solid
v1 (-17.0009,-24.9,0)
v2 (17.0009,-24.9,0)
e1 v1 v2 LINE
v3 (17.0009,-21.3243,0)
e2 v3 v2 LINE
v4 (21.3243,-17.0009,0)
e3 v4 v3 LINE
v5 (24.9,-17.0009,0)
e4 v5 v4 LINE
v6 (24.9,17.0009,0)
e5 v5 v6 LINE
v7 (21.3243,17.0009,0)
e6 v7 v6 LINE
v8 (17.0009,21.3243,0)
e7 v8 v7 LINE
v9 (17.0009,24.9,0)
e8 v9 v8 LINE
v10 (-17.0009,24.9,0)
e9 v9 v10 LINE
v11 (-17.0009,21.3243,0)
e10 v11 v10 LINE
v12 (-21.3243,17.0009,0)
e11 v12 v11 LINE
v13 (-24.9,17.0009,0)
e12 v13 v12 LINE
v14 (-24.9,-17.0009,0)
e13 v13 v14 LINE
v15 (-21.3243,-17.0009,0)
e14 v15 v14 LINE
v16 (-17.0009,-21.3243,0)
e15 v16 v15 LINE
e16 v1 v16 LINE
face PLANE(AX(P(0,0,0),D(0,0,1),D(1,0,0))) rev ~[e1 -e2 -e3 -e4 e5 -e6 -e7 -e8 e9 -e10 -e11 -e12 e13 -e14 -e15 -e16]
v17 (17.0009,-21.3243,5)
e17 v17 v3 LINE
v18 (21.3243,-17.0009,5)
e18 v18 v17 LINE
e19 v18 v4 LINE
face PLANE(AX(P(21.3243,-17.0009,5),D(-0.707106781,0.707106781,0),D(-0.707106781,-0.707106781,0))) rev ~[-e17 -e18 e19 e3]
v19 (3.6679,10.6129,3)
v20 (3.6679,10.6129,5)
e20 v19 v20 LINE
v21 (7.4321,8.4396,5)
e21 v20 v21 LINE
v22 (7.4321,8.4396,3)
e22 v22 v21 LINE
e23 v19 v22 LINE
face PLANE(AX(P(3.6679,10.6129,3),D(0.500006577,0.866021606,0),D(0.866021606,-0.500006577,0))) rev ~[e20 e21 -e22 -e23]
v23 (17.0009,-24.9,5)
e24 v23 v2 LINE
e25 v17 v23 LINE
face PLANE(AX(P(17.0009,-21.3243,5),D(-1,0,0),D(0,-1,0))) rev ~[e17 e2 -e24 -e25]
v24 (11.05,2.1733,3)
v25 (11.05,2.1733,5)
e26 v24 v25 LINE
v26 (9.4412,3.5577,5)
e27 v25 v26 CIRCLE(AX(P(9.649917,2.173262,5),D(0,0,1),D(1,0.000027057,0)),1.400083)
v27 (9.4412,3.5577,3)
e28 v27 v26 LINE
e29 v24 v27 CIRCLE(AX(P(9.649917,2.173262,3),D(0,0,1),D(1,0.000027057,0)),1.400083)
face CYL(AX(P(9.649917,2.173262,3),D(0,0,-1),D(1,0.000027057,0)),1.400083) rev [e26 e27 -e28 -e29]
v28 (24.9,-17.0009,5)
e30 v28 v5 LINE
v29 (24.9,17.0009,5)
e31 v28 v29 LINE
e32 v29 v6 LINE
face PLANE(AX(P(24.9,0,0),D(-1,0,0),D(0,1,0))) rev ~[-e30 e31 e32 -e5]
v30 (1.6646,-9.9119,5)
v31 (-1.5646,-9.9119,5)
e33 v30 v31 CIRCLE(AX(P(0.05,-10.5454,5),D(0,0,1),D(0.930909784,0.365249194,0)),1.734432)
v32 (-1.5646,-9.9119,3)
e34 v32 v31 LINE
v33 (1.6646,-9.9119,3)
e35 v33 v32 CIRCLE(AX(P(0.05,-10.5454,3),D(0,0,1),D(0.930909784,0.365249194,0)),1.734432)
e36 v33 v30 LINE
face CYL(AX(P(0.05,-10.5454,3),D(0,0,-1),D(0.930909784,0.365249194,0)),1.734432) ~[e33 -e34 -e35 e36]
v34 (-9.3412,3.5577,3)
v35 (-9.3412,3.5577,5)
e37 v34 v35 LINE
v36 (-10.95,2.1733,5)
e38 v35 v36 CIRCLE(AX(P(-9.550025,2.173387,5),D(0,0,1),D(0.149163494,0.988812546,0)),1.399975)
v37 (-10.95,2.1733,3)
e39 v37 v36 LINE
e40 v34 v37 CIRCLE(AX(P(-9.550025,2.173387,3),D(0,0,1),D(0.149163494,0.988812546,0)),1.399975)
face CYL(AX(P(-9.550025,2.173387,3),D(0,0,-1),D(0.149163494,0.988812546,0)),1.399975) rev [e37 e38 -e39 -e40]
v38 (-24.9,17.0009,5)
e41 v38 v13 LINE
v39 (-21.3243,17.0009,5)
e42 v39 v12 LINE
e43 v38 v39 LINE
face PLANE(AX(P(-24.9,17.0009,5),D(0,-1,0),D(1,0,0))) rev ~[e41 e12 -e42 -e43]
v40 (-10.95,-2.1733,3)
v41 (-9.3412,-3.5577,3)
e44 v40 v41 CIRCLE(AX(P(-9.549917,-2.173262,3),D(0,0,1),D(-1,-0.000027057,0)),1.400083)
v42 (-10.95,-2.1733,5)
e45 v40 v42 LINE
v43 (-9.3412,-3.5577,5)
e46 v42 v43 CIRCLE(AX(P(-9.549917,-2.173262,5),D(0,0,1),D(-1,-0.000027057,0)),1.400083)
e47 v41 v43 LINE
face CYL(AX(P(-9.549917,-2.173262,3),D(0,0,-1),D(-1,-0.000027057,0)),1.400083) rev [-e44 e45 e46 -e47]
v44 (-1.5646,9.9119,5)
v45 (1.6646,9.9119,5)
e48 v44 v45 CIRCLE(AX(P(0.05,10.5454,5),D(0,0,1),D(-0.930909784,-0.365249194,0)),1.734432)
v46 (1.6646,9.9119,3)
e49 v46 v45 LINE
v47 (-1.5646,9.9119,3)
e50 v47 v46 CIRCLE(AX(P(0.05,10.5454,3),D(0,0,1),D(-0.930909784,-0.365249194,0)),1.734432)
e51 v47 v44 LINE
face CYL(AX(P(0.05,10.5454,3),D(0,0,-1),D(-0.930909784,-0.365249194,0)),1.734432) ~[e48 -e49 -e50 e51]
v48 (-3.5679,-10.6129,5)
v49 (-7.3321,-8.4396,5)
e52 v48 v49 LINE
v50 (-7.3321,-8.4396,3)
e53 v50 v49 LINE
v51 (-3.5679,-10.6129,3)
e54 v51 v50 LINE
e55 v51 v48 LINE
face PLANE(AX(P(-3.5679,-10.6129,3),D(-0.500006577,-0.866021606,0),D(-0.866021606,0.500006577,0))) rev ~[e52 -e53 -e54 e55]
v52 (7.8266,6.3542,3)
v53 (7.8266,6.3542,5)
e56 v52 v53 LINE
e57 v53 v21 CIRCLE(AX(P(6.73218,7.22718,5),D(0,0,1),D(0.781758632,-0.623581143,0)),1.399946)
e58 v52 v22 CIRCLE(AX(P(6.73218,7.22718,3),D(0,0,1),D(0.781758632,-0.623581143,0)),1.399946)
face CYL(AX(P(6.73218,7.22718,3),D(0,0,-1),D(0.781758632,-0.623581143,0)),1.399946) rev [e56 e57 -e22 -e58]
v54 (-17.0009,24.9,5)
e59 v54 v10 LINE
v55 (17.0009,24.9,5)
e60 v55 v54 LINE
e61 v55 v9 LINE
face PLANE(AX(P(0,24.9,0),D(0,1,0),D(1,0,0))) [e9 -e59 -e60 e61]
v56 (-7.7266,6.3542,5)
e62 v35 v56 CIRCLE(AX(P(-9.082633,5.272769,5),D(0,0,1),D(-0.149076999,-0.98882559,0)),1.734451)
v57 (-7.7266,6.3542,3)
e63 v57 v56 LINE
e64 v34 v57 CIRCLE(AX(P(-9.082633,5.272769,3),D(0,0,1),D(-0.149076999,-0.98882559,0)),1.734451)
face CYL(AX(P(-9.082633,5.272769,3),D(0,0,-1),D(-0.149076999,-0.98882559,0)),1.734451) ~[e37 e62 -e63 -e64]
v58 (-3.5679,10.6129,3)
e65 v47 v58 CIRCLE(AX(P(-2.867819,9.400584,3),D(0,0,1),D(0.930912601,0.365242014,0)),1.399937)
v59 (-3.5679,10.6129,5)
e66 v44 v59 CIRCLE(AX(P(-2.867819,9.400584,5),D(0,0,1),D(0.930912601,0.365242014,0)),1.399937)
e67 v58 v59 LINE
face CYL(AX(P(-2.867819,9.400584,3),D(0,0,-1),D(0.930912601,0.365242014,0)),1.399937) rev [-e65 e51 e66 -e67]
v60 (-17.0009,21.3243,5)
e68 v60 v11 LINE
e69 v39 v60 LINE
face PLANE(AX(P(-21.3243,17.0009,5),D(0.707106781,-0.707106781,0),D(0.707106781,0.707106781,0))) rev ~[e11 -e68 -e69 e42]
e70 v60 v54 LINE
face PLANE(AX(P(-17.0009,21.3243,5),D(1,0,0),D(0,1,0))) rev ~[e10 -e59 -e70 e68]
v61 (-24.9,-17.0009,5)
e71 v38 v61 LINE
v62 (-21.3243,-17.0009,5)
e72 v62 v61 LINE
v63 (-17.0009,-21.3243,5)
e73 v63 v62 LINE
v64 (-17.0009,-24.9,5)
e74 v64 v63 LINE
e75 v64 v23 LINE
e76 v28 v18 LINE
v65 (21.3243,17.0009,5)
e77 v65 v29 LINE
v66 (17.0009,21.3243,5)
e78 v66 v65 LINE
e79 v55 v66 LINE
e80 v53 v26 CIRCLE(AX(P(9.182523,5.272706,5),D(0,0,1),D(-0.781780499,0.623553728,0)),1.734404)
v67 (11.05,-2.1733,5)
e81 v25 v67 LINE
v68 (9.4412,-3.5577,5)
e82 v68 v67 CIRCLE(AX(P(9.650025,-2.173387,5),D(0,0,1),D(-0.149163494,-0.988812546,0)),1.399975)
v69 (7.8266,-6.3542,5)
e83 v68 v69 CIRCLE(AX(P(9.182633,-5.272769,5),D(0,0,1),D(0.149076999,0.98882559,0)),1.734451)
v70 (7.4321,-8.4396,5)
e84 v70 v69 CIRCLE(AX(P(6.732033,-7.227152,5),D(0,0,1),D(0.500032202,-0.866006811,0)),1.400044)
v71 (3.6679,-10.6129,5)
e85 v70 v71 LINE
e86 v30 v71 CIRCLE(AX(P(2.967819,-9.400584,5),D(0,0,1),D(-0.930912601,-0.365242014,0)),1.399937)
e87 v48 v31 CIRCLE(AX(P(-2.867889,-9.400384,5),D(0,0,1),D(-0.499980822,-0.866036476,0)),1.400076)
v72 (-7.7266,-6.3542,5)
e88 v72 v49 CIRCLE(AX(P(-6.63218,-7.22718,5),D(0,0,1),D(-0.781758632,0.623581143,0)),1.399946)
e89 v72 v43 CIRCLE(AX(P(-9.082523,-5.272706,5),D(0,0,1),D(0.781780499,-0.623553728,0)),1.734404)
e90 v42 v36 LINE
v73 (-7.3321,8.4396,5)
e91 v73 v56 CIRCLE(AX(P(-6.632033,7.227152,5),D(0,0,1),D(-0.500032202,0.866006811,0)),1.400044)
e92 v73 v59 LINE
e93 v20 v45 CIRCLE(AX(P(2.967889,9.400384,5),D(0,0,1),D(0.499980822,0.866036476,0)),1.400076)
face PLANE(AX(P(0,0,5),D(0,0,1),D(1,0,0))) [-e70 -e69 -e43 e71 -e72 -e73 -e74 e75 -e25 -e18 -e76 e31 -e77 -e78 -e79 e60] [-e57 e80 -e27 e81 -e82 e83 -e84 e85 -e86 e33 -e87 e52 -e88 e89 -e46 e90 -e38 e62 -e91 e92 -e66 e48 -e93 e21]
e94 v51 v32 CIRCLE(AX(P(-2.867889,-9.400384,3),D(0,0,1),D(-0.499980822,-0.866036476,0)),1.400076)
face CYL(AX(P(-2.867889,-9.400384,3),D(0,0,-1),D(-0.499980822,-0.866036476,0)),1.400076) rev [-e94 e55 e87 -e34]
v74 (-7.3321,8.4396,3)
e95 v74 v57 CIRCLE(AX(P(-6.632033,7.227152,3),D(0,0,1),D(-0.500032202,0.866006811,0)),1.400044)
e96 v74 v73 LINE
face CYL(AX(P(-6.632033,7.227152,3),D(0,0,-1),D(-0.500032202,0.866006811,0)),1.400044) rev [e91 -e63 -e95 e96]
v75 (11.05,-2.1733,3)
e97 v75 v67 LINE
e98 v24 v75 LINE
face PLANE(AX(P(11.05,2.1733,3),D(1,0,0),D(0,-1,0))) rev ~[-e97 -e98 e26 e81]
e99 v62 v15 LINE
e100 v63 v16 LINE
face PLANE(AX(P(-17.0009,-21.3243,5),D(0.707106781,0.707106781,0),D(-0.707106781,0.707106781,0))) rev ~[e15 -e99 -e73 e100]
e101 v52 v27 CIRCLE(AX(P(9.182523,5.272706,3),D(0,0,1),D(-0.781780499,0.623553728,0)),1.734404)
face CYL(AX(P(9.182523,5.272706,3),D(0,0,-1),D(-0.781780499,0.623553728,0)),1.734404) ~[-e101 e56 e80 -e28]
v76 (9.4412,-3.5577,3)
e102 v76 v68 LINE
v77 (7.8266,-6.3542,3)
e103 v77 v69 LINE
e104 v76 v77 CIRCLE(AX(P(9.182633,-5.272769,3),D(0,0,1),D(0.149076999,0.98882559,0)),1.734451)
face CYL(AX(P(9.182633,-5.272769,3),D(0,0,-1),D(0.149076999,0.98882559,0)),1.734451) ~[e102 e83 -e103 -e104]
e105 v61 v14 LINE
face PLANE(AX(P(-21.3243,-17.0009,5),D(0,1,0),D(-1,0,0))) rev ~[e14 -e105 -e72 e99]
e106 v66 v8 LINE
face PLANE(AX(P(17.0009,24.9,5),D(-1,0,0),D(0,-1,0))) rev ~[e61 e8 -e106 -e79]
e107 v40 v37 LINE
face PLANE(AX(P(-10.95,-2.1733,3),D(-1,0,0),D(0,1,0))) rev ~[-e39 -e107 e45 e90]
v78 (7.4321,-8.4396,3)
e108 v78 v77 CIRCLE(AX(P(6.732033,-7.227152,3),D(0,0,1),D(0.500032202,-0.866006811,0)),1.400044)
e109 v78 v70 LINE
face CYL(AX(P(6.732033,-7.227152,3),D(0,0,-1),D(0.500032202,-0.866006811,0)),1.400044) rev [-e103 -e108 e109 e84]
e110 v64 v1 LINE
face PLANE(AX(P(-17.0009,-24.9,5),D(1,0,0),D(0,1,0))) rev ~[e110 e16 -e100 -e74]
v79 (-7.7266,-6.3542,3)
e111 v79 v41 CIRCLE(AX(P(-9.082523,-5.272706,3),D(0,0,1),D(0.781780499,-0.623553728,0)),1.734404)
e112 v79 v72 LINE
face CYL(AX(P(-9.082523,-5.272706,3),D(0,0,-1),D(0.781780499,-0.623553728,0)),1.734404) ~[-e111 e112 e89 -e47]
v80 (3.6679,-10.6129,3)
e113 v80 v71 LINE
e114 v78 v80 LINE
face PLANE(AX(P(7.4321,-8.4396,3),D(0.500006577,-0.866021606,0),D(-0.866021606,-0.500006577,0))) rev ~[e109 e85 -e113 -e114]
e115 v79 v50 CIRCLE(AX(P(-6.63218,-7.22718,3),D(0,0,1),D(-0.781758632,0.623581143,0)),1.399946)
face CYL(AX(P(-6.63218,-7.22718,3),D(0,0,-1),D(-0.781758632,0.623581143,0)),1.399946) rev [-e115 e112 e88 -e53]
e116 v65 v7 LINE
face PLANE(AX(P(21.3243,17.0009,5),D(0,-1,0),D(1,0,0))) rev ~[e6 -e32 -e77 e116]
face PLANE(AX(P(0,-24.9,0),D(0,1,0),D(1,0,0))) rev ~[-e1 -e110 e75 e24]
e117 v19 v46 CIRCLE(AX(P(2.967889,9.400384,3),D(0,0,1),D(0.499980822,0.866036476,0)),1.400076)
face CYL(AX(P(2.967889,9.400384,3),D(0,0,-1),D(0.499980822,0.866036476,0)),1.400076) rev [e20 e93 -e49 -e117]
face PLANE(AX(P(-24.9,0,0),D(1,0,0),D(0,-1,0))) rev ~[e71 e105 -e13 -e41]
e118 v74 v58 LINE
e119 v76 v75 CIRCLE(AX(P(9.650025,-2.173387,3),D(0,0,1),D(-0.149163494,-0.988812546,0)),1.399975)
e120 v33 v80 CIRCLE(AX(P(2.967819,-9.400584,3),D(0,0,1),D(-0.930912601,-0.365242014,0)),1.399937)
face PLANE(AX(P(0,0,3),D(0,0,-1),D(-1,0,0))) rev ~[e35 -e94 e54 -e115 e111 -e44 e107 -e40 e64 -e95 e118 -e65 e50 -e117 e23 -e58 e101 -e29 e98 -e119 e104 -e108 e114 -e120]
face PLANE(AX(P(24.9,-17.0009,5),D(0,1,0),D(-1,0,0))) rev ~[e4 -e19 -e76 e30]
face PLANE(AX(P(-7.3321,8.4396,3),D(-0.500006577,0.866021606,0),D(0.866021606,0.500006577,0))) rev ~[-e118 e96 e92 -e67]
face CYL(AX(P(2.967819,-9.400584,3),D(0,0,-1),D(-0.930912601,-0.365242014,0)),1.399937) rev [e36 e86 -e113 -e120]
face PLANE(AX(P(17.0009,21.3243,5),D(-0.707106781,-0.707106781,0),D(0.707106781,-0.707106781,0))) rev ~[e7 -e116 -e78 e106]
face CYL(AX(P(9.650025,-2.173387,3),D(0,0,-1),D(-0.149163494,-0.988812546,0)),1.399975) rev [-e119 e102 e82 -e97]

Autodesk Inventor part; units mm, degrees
ref_plane "YZ Plane" through (0, 0, 0) normal (1, 0, 0) x (0, 1, 0)
ref_plane "XZ Plane" through (0, 0, 0) normal (0, 1, 0) x (-1, 0, 0)
ref_plane "XY Plane" through (0, 0, 0) normal (0, 0, 1) x (1, 0, 0)
sketch "Sketch1" plane through (0, 0, 0) normal (0, 0, 1) x (1, 0, 0)
  line L0 (-34.86, 0) -> (34.86, 0) construction
  line L1 (0, -34.86) -> (0, 34.86) construction
  line L2 (0, 0) -> (11.1575, 11.1575) construction
  line L3 (0, 0) -> (15.7791, 0) construction
  line L4 (0, 24.9) -> (16.8009, 24.9)
  line L5 (16.8009, 24.9) -> (16.8009, 21.2415)
  line L6 (16.8009, 21.2415) -> (19.0212, 19.0212)
  line L7 (24.9, 0) -> (24.9, 16.8009)
  line L8 (24.9, 16.8009) -> (21.2415, 16.8009)
  line L9 (21.2415, 16.8009) -> (19.0212, 19.0212)
  line L10 (0, -24.9) -> (16.8009, -24.9)
  line L11 (16.8009, -24.9) -> (16.8009, -21.2415)
  line L12 (16.8009, -21.2415) -> (19.0212, -19.0212)
  line L13 (24.9, 0) -> (24.9, -16.8009)
  line L14 (24.9, -16.8009) -> (21.2415, -16.8009)
  line L15 (21.2415, -16.8009) -> (19.0212, -19.0212)
  line L16 (0, 24.9) -> (-16.8009, 24.9)
  line L17 (-16.8009, 24.9) -> (-16.8009, 21.2415)
  line L18 (-16.8009, 21.2415) -> (-19.0212, 19.0212)
  line L19 (-24.9, 16.8009) -> (-21.2415, 16.8009)
  line L20 (-21.2415, 16.8009) -> (-19.0212, 19.0212)
  line L21 (0, -24.9) -> (-16.8009, -24.9)
  line L22 (-16.8009, -24.9) -> (-16.8009, -21.2415)
  line L23 (-16.8009, -21.2415) -> (-19.0212, -19.0212)
  line L24 (-21.2415, -16.8009) -> (-19.0212, -19.0212)
  line L25 (-24.9, -16.8009) -> (-21.2415, -16.8009)
  line L26 (-24.9, 0) -> (-24.9, -16.8009)
  line L27 (-24.9, 0) -> (-24.9, 16.8009)
  circle A0 centre (0, 0) radius 12.5
  dimension "d0" = 45
  dimension "d2" = 24.9
  dimension "d3" = 3.14
  dimension "d4" = 26.9
  dimension "d5" = 25
extrude "Extrusion1" add sketch "Sketch1" along normal blind 5
sketch "Sketch3" plane through (0, 0, 0) normal (0, 0, -1) x (-1, 0, 0)
  circle A0 centre (0, 0) radius 12.5 projected
extrude "Extrusion3" add sketch "Sketch3" against normal blind 3
sketch "Sketch4" plane through (0, 0, 3) normal (0, 0, 1) x (1, 0, 0)
  circle A0 centre (0, 0) radius 12.5 projected
  arc A1 (-2.4955, 9.5466) -> (2.5955, 9.5466) centre (0.05, 10.5454) ccw
  arc A2 (-2.4955, 9.5466) -> (-3.0679, 9.7469) centre (-2.8679, 9.4005) ccw
  line L0 (-3.0679, 9.7469) -> (-6.8321, 7.5736)
  arc A3 (-6.8321, 7.5736) -> (-6.9449, 6.9778) centre (-6.6321, 7.2272) ccw
  arc A4 (-9.4904, 2.5688) -> (-6.9449, 6.9778) centre (-9.0826, 5.2727) ccw
  arc A5 (2.5955, -9.5466) -> (-2.4955, -9.5466) centre (0.05, -10.5454) ccw
  arc A6 (2.5955, -9.5466) -> (3.1679, -9.7469) centre (2.9679, -9.4005) ccw
  line L1 (3.1679, -9.7469) -> (6.9321, -7.5736)
  arc A7 (6.9321, -7.5736) -> (7.0449, -6.9778) centre (6.7321, -7.2272) ccw
  arc A8 (9.5904, -2.5688) -> (7.0449, -6.9778) centre (9.1826, -5.2727) ccw
  line L2 (5.3229, -1.93) -> (5.3229, -1.58)
  line L3 (5.3229, -1.58) -> (5.9268, -1.58)
  line L4 (6.2768, -2.56) -> (5.9268, -2.56)
  line L5 (5.9268, -2.56) -> (5.9268, -1.93)
  line L6 (5.9268, -1.93) -> (5.3229, -1.93)
  circle A9 centre (0.05, 0) radius 3.3699
  line L7 (1.2704, -6.4878) -> (4.6724, -4.4373)
  line L8 (4.6724, -4.4373) -> (5.9738, -6.5964)
  line L9 (5.9738, -6.5964) -> (2.5718, -8.647)
  line L10 (2.5718, -8.647) -> (1.2704, -6.4878)
  line L11 (-2.4718, 8.647) -> (-1.1704, 6.4878)
  line L12 (-1.1704, 6.4878) -> (-4.5724, 4.4373)
  line L13 (-4.5724, 4.4373) -> (-5.8738, 6.5964)
  line L14 (-5.8738, 6.5964) -> (-2.4718, 8.647)
  arc A10 (-3.5679, -10.6129) -> (-1.5646, -9.9119) centre (-2.8679, -9.4005) ccw
  line L15 (-3.5679, -10.6129) -> (-7.3321, -8.4396)
  arc A11 (-7.7266, -6.3542) -> (-7.3321, -8.4396) centre (-6.6321, -7.2272) ccw
  arc A12 (-7.7266, -6.3542) -> (-9.3412, -3.5577) centre (-9.0826, -5.2727) ccw
  arc A13 (-10.95, -2.1733) -> (-9.3412, -3.5577) centre (-9.55, -2.1733) ccw
  line L16 (-10.95, -2.1733) -> (-10.95, 2.1733)
  arc A14 (-9.3412, 3.5577) -> (-10.95, 2.1733) centre (-9.55, 2.1733) ccw
  arc A15 (-9.3412, 3.5577) -> (-7.7266, 6.3542) centre (-9.0826, 5.2727) ccw
  arc A16 (-7.3321, 8.4396) -> (-7.7266, 6.3542) centre (-6.6321, 7.2272) ccw
  line L17 (-7.3321, 8.4396) -> (-3.5679, 10.6129)
  arc A17 (-1.5646, 9.9119) -> (-3.5679, 10.6129) centre (-2.8679, 9.4005) ccw
  arc A18 (-1.5646, 9.9119) -> (1.6646, 9.9119) centre (0.05, 10.5454) ccw
  arc A19 (3.6679, 10.6129) -> (1.6646, 9.9119) centre (2.9679, 9.4005) ccw
  line L18 (3.6679, 10.6129) -> (7.4321, 8.4396)
  arc A20 (7.8266, 6.3542) -> (7.4321, 8.4396) centre (6.7321, 7.2272) ccw
  arc A21 (7.8266, 6.3542) -> (9.4412, 3.5577) centre (9.1826, 5.2727) ccw
  arc A22 (11.05, 2.1733) -> (9.4412, 3.5577) centre (9.65, 2.1733) ccw
  line L19 (11.05, 2.1733) -> (11.05, -2.1733)
  arc A23 (9.4412, -3.5577) -> (11.05, -2.1733) centre (9.65, -2.1733) ccw
  arc A24 (9.4412, -3.5577) -> (7.8266, -6.3542) centre (9.1826, -5.2727) ccw
  arc A25 (7.4321, -8.4396) -> (7.8266, -6.3542) centre (6.7321, -7.2272) ccw
  line L20 (7.4321, -8.4396) -> (3.6679, -10.6129)
  arc A26 (1.6646, -9.9119) -> (3.6679, -10.6129) centre (2.9679, -9.4005) ccw
  arc A27 (1.6646, -9.9119) -> (-1.5646, -9.9119) centre (0.05, -10.5454) ccw
  arc A28 (7.0449, 6.9778) -> (6.9321, 7.5736) centre (6.7321, 7.2272) ccw
  line L21 (6.9321, 7.5736) -> (3.1679, 9.7469)
  arc A29 (3.1679, 9.7469) -> (2.5955, 9.5466) centre (2.9679, 9.4005) ccw
  arc A30 (-9.4904, 2.5688) -> (-9.95, 2.1733) centre (-9.55, 2.1733) ccw
  line L22 (-9.95, 2.1733) -> (-9.95, -2.1733)
  arc A31 (-9.95, -2.1733) -> (-9.4904, -2.5688) centre (-9.55, -2.1733) ccw
  arc A32 (-6.9449, -6.9778) -> (-9.4904, -2.5688) centre (-9.0826, -5.2727) ccw
  arc A33 (-6.9449, -6.9778) -> (-6.8321, -7.5736) centre (-6.6321, -7.2272) ccw
  line L23 (-6.8321, -7.5736) -> (-3.0679, -9.7469)
  arc A34 (-3.0679, -9.7469) -> (-2.4955, -9.5466) centre (-2.8679, -9.4005) ccw
  arc A35 (9.5904, -2.5688) -> (10.05, -2.1733) centre (9.65, -2.1733) ccw
  line L24 (10.05, -2.1733) -> (10.05, 2.1733)
  arc A36 (10.05, 2.1733) -> (9.5904, 2.5688) centre (9.65, 2.1733) ccw
  arc A37 (7.0449, 6.9778) -> (9.5904, 2.5688) centre (9.1826, 5.2727) ccw
  line L25 (5.9268, -1.58) -> (5.9268, -0.96)
  line L26 (5.9268, -0.96) -> (6.2768, -0.96)
  line L27 (6.2768, -0.96) -> (6.2768, -1.58)
  line L28 (6.2768, -1.58) -> (6.9229, -1.58)
  line L29 (6.9229, -1.58) -> (6.9229, -1.93)
  line L30 (6.9229, -1.93) -> (6.2768, -1.93)
  line L31 (6.2768, -1.93) -> (6.2768, -2.56)
  line L32 (-1.1704, -6.4878) -> (-2.4718, -8.647)
  line L33 (-2.4718, -8.647) -> (-5.8738, -6.5964)
  line L34 (-5.8738, -6.5964) -> (-4.5724, -4.4373)
  line L35 (-4.5724, -4.4373) -> (-1.1704, -6.4878)
  line L36 (5.9738, 6.5964) -> (4.6724, 4.4373)
  line L37 (4.6724, 4.4373) -> (1.2704, 6.4878)
  line L38 (1.2704, 6.4878) -> (2.5718, 8.647)
  line L39 (2.5718, 8.647) -> (5.9738, 6.5964)
  line L40 (-8.6062, -2.0991) -> (-8.6062, 0.1709)
  line L41 (-8.6062, 0.1709) -> (-5.5375, 0.1709)
  line L42 (-5.5375, 0.1709) -> (-5.5375, -2.0991)
  line L43 (-5.5375, -2.0991) -> (-8.6062, -2.0991)
  line L44 (-6.8834, 0.8144) -> (-6.8834, 2.4144)
  line L45 (-6.8834, 2.4144) -> (-6.5334, 2.4144)
  line L46 (-6.5334, 2.4144) -> (-6.5334, 0.8144)
  line L47 (-6.5334, 0.8144) -> (-6.8834, 0.8144)
  line L48 (5.5596, -0.1311) -> (5.5596, 2.208)
  line L49 (5.5596, 2.208) -> (8.9002, 2.208)
  line L50 (8.9002, 2.208) -> (8.9002, -0.1311)
  line L51 (8.9002, -0.1311) -> (5.5596, -0.1311)
  point P0 (0.05, 10.5454)
  point P1 (-9.0826, 5.2727)
  point P2 (0.05, -10.5454)
  point P3 (9.1826, -5.2727)
  dimension "d15" = 1
extrude "Extrusion4" add sketch "Sketch4" along normal up to surface (2 mm away) contours A0
sketch "Skizze5" plane through (0, 0, 5) normal (0, 0, 1) x (1, 0, 0)
  line L0 (-7.3321, -8.4396) -> (-3.5679, -10.6129) construction
  arc A0 (-7.7266, -6.3542) -> (-7.3321, -8.4396) centre (-6.6321, -7.2272) ccw construction
  arc A1 (-7.7266, -6.3542) -> (-9.3412, -3.5577) centre (-9.0826, -5.2727) ccw construction
  arc A2 (-10.95, -2.1733) -> (-9.3412, -3.5577) centre (-9.55, -2.1733) ccw construction
  line L1 (-10.95, 2.1733) -> (-10.95, -2.1733) construction
  arc A3 (-9.3412, 3.5577) -> (-10.95, 2.1733) centre (-9.55, 2.1733) ccw construction
  arc A4 (-9.3412, 3.5577) -> (-7.7266, 6.3542) centre (-9.0826, 5.2727) ccw construction
  arc A5 (-7.3321, 8.4396) -> (-7.7266, 6.3542) centre (-6.6321, 7.2272) ccw construction
  line L2 (-3.5679, 10.6129) -> (-7.3321, 8.4396) construction
  arc A6 (-1.5646, 9.9119) -> (-3.5679, 10.6129) centre (-2.8679, 9.4005) ccw construction
  arc A7 (-1.5646, 9.9119) -> (1.6646, 9.9119) centre (0.05, 10.5454) ccw construction
  arc A8 (3.6679, 10.6129) -> (1.6646, 9.9119) centre (2.9679, 9.4005) ccw construction
  line L3 (7.4321, 8.4396) -> (3.6679, 10.6129) construction
  arc A9 (7.8266, 6.3542) -> (7.4321, 8.4396) centre (6.7321, 7.2272) ccw construction
  arc A10 (7.8266, 6.3542) -> (9.4412, 3.5577) centre (9.1826, 5.2727) ccw construction
  arc A11 (11.05, 2.1733) -> (9.4412, 3.5577) centre (9.65, 2.1733) ccw construction
  line L4 (11.05, -2.1733) -> (11.05, 2.1733) construction
  arc A12 (9.4412, -3.5577) -> (11.05, -2.1733) centre (9.65, -2.1733) ccw construction
  arc A13 (9.4412, -3.5577) -> (7.8266, -6.3542) centre (9.1826, -5.2727) ccw construction
  arc A14 (7.4321, -8.4396) -> (7.8266, -6.3542) centre (6.7321, -7.2272) ccw construction
  line L5 (3.6679, -10.6129) -> (7.4321, -8.4396) construction
  arc A15 (1.6646, -9.9119) -> (3.6679, -10.6129) centre (2.9679, -9.4005) ccw construction
  arc A16 (1.6646, -9.9119) -> (-1.5646, -9.9119) centre (0.05, -10.5454) ccw construction
  arc A17 (-3.5679, -10.6129) -> (-1.5646, -9.9119) centre (-2.8679, -9.4005) ccw construction
  line L6 (16.8009, 24.9) -> (-16.8009, 24.9) construction
  line L7 (-16.8009, 24.9) -> (-16.8009, 21.2415) projected
  line L8 (-16.8009, 21.2415) -> (-21.2415, 16.8009) projected
  line L9 (-21.2415, 16.8009) -> (-24.9, 16.8009) projected
  line L10 (-24.9, 16.8009) -> (-24.9, -16.8009) construction
  line L11 (-24.9, -16.8009) -> (-21.2415, -16.8009) projected
  line L12 (-21.2415, -16.8009) -> (-16.8009, -21.2415) projected
  line L13 (-16.8009, -21.2415) -> (-16.8009, -24.9) projected
  line L14 (-16.8009, -24.9) -> (16.8009, -24.9) construction
  line L15 (16.8009, -24.9) -> (16.8009, -21.2415) projected
  line L16 (16.8009, -21.2415) -> (21.2415, -16.8009) projected
  line L17 (21.2415, -16.8009) -> (24.9, -16.8009) projected
  line L18 (24.9, -16.8009) -> (24.9, 16.8009) construction
  line L19 (24.9, 16.8009) -> (21.2415, 16.8009) projected
  line L20 (21.2415, 16.8009) -> (16.8009, 21.2415) projected
  line L21 (16.8009, 21.2415) -> (16.8009, 24.9) projected
  line L22 (-17.0009, 25.1) -> (17.0009, 25.1) construction
  line L23 (17.0009, 25.1) -> (17.0009, 21.3243)
  line L24 (17.0009, 21.3243) -> (21.3243, 17.0009)
  line L25 (21.3243, 17.0009) -> (25.1, 17.0009)
  line L26 (25.1, 17.0009) -> (25.1, -17.0009) construction
  line L27 (25.1, -17.0009) -> (21.3243, -17.0009)
  line L28 (21.3243, -17.0009) -> (17.0009, -21.3243)
  line L29 (17.0009, -21.3243) -> (17.0009, -25.1)
  line L30 (17.0009, -25.1) -> (-17.0009, -25.1) construction
  line L31 (-17.0009, -25.1) -> (-17.0009, -21.3243)
  line L32 (-17.0009, -21.3243) -> (-21.3243, -17.0009)
  line L33 (-21.3243, -17.0009) -> (-25.1, -17.0009)
  line L34 (-25.1, -17.0009) -> (-25.1, 17.0009) construction
  line L35 (-25.1, 17.0009) -> (-21.3243, 17.0009)
  line L36 (-21.3243, 17.0009) -> (-17.0009, 21.3243)
  line L37 (-17.0009, 21.3243) -> (-17.0009, 25.1)
  line L38 (-21.2415, 16.8009) -> (-24.9, 16.8009) projected
  line L39 (-24.9, 16.8009) -> (-24.9, 17.0009)
  line L40 (-16.8009, 24.9) -> (-17.0009, 24.9)
  line L41 (16.8009, 24.9) -> (-16.8009, 24.9) projected
  line L42 (16.8009, 24.9) -> (17.0009, 24.9)
  line L43 (24.9, 16.8009) -> (21.2415, 16.8009) projected
  line L44 (24.9, 16.8009) -> (24.9, 17.0009)
  line L45 (24.9, -16.8009) -> (24.9, -17.0009)
  line L46 (16.8009, -24.9) -> (16.8009, -21.2415) projected
  line L47 (16.8009, -24.9) -> (17.0009, -24.9)
  line L48 (-16.8009, -21.2415) -> (-16.8009, -24.9) projected
  line L49 (-16.8009, -24.9) -> (-17.0009, -24.9)
  line L50 (-24.9, -16.8009) -> (-24.9, -17.0009)
  point P0 (0, 0)
  dimension "d18" = 0.2
extrude "IM_offset" add sketch "Skizze5" against normal up to surface (5 mm away)
properties part number "20_Cube_insert_Sample_holder"
